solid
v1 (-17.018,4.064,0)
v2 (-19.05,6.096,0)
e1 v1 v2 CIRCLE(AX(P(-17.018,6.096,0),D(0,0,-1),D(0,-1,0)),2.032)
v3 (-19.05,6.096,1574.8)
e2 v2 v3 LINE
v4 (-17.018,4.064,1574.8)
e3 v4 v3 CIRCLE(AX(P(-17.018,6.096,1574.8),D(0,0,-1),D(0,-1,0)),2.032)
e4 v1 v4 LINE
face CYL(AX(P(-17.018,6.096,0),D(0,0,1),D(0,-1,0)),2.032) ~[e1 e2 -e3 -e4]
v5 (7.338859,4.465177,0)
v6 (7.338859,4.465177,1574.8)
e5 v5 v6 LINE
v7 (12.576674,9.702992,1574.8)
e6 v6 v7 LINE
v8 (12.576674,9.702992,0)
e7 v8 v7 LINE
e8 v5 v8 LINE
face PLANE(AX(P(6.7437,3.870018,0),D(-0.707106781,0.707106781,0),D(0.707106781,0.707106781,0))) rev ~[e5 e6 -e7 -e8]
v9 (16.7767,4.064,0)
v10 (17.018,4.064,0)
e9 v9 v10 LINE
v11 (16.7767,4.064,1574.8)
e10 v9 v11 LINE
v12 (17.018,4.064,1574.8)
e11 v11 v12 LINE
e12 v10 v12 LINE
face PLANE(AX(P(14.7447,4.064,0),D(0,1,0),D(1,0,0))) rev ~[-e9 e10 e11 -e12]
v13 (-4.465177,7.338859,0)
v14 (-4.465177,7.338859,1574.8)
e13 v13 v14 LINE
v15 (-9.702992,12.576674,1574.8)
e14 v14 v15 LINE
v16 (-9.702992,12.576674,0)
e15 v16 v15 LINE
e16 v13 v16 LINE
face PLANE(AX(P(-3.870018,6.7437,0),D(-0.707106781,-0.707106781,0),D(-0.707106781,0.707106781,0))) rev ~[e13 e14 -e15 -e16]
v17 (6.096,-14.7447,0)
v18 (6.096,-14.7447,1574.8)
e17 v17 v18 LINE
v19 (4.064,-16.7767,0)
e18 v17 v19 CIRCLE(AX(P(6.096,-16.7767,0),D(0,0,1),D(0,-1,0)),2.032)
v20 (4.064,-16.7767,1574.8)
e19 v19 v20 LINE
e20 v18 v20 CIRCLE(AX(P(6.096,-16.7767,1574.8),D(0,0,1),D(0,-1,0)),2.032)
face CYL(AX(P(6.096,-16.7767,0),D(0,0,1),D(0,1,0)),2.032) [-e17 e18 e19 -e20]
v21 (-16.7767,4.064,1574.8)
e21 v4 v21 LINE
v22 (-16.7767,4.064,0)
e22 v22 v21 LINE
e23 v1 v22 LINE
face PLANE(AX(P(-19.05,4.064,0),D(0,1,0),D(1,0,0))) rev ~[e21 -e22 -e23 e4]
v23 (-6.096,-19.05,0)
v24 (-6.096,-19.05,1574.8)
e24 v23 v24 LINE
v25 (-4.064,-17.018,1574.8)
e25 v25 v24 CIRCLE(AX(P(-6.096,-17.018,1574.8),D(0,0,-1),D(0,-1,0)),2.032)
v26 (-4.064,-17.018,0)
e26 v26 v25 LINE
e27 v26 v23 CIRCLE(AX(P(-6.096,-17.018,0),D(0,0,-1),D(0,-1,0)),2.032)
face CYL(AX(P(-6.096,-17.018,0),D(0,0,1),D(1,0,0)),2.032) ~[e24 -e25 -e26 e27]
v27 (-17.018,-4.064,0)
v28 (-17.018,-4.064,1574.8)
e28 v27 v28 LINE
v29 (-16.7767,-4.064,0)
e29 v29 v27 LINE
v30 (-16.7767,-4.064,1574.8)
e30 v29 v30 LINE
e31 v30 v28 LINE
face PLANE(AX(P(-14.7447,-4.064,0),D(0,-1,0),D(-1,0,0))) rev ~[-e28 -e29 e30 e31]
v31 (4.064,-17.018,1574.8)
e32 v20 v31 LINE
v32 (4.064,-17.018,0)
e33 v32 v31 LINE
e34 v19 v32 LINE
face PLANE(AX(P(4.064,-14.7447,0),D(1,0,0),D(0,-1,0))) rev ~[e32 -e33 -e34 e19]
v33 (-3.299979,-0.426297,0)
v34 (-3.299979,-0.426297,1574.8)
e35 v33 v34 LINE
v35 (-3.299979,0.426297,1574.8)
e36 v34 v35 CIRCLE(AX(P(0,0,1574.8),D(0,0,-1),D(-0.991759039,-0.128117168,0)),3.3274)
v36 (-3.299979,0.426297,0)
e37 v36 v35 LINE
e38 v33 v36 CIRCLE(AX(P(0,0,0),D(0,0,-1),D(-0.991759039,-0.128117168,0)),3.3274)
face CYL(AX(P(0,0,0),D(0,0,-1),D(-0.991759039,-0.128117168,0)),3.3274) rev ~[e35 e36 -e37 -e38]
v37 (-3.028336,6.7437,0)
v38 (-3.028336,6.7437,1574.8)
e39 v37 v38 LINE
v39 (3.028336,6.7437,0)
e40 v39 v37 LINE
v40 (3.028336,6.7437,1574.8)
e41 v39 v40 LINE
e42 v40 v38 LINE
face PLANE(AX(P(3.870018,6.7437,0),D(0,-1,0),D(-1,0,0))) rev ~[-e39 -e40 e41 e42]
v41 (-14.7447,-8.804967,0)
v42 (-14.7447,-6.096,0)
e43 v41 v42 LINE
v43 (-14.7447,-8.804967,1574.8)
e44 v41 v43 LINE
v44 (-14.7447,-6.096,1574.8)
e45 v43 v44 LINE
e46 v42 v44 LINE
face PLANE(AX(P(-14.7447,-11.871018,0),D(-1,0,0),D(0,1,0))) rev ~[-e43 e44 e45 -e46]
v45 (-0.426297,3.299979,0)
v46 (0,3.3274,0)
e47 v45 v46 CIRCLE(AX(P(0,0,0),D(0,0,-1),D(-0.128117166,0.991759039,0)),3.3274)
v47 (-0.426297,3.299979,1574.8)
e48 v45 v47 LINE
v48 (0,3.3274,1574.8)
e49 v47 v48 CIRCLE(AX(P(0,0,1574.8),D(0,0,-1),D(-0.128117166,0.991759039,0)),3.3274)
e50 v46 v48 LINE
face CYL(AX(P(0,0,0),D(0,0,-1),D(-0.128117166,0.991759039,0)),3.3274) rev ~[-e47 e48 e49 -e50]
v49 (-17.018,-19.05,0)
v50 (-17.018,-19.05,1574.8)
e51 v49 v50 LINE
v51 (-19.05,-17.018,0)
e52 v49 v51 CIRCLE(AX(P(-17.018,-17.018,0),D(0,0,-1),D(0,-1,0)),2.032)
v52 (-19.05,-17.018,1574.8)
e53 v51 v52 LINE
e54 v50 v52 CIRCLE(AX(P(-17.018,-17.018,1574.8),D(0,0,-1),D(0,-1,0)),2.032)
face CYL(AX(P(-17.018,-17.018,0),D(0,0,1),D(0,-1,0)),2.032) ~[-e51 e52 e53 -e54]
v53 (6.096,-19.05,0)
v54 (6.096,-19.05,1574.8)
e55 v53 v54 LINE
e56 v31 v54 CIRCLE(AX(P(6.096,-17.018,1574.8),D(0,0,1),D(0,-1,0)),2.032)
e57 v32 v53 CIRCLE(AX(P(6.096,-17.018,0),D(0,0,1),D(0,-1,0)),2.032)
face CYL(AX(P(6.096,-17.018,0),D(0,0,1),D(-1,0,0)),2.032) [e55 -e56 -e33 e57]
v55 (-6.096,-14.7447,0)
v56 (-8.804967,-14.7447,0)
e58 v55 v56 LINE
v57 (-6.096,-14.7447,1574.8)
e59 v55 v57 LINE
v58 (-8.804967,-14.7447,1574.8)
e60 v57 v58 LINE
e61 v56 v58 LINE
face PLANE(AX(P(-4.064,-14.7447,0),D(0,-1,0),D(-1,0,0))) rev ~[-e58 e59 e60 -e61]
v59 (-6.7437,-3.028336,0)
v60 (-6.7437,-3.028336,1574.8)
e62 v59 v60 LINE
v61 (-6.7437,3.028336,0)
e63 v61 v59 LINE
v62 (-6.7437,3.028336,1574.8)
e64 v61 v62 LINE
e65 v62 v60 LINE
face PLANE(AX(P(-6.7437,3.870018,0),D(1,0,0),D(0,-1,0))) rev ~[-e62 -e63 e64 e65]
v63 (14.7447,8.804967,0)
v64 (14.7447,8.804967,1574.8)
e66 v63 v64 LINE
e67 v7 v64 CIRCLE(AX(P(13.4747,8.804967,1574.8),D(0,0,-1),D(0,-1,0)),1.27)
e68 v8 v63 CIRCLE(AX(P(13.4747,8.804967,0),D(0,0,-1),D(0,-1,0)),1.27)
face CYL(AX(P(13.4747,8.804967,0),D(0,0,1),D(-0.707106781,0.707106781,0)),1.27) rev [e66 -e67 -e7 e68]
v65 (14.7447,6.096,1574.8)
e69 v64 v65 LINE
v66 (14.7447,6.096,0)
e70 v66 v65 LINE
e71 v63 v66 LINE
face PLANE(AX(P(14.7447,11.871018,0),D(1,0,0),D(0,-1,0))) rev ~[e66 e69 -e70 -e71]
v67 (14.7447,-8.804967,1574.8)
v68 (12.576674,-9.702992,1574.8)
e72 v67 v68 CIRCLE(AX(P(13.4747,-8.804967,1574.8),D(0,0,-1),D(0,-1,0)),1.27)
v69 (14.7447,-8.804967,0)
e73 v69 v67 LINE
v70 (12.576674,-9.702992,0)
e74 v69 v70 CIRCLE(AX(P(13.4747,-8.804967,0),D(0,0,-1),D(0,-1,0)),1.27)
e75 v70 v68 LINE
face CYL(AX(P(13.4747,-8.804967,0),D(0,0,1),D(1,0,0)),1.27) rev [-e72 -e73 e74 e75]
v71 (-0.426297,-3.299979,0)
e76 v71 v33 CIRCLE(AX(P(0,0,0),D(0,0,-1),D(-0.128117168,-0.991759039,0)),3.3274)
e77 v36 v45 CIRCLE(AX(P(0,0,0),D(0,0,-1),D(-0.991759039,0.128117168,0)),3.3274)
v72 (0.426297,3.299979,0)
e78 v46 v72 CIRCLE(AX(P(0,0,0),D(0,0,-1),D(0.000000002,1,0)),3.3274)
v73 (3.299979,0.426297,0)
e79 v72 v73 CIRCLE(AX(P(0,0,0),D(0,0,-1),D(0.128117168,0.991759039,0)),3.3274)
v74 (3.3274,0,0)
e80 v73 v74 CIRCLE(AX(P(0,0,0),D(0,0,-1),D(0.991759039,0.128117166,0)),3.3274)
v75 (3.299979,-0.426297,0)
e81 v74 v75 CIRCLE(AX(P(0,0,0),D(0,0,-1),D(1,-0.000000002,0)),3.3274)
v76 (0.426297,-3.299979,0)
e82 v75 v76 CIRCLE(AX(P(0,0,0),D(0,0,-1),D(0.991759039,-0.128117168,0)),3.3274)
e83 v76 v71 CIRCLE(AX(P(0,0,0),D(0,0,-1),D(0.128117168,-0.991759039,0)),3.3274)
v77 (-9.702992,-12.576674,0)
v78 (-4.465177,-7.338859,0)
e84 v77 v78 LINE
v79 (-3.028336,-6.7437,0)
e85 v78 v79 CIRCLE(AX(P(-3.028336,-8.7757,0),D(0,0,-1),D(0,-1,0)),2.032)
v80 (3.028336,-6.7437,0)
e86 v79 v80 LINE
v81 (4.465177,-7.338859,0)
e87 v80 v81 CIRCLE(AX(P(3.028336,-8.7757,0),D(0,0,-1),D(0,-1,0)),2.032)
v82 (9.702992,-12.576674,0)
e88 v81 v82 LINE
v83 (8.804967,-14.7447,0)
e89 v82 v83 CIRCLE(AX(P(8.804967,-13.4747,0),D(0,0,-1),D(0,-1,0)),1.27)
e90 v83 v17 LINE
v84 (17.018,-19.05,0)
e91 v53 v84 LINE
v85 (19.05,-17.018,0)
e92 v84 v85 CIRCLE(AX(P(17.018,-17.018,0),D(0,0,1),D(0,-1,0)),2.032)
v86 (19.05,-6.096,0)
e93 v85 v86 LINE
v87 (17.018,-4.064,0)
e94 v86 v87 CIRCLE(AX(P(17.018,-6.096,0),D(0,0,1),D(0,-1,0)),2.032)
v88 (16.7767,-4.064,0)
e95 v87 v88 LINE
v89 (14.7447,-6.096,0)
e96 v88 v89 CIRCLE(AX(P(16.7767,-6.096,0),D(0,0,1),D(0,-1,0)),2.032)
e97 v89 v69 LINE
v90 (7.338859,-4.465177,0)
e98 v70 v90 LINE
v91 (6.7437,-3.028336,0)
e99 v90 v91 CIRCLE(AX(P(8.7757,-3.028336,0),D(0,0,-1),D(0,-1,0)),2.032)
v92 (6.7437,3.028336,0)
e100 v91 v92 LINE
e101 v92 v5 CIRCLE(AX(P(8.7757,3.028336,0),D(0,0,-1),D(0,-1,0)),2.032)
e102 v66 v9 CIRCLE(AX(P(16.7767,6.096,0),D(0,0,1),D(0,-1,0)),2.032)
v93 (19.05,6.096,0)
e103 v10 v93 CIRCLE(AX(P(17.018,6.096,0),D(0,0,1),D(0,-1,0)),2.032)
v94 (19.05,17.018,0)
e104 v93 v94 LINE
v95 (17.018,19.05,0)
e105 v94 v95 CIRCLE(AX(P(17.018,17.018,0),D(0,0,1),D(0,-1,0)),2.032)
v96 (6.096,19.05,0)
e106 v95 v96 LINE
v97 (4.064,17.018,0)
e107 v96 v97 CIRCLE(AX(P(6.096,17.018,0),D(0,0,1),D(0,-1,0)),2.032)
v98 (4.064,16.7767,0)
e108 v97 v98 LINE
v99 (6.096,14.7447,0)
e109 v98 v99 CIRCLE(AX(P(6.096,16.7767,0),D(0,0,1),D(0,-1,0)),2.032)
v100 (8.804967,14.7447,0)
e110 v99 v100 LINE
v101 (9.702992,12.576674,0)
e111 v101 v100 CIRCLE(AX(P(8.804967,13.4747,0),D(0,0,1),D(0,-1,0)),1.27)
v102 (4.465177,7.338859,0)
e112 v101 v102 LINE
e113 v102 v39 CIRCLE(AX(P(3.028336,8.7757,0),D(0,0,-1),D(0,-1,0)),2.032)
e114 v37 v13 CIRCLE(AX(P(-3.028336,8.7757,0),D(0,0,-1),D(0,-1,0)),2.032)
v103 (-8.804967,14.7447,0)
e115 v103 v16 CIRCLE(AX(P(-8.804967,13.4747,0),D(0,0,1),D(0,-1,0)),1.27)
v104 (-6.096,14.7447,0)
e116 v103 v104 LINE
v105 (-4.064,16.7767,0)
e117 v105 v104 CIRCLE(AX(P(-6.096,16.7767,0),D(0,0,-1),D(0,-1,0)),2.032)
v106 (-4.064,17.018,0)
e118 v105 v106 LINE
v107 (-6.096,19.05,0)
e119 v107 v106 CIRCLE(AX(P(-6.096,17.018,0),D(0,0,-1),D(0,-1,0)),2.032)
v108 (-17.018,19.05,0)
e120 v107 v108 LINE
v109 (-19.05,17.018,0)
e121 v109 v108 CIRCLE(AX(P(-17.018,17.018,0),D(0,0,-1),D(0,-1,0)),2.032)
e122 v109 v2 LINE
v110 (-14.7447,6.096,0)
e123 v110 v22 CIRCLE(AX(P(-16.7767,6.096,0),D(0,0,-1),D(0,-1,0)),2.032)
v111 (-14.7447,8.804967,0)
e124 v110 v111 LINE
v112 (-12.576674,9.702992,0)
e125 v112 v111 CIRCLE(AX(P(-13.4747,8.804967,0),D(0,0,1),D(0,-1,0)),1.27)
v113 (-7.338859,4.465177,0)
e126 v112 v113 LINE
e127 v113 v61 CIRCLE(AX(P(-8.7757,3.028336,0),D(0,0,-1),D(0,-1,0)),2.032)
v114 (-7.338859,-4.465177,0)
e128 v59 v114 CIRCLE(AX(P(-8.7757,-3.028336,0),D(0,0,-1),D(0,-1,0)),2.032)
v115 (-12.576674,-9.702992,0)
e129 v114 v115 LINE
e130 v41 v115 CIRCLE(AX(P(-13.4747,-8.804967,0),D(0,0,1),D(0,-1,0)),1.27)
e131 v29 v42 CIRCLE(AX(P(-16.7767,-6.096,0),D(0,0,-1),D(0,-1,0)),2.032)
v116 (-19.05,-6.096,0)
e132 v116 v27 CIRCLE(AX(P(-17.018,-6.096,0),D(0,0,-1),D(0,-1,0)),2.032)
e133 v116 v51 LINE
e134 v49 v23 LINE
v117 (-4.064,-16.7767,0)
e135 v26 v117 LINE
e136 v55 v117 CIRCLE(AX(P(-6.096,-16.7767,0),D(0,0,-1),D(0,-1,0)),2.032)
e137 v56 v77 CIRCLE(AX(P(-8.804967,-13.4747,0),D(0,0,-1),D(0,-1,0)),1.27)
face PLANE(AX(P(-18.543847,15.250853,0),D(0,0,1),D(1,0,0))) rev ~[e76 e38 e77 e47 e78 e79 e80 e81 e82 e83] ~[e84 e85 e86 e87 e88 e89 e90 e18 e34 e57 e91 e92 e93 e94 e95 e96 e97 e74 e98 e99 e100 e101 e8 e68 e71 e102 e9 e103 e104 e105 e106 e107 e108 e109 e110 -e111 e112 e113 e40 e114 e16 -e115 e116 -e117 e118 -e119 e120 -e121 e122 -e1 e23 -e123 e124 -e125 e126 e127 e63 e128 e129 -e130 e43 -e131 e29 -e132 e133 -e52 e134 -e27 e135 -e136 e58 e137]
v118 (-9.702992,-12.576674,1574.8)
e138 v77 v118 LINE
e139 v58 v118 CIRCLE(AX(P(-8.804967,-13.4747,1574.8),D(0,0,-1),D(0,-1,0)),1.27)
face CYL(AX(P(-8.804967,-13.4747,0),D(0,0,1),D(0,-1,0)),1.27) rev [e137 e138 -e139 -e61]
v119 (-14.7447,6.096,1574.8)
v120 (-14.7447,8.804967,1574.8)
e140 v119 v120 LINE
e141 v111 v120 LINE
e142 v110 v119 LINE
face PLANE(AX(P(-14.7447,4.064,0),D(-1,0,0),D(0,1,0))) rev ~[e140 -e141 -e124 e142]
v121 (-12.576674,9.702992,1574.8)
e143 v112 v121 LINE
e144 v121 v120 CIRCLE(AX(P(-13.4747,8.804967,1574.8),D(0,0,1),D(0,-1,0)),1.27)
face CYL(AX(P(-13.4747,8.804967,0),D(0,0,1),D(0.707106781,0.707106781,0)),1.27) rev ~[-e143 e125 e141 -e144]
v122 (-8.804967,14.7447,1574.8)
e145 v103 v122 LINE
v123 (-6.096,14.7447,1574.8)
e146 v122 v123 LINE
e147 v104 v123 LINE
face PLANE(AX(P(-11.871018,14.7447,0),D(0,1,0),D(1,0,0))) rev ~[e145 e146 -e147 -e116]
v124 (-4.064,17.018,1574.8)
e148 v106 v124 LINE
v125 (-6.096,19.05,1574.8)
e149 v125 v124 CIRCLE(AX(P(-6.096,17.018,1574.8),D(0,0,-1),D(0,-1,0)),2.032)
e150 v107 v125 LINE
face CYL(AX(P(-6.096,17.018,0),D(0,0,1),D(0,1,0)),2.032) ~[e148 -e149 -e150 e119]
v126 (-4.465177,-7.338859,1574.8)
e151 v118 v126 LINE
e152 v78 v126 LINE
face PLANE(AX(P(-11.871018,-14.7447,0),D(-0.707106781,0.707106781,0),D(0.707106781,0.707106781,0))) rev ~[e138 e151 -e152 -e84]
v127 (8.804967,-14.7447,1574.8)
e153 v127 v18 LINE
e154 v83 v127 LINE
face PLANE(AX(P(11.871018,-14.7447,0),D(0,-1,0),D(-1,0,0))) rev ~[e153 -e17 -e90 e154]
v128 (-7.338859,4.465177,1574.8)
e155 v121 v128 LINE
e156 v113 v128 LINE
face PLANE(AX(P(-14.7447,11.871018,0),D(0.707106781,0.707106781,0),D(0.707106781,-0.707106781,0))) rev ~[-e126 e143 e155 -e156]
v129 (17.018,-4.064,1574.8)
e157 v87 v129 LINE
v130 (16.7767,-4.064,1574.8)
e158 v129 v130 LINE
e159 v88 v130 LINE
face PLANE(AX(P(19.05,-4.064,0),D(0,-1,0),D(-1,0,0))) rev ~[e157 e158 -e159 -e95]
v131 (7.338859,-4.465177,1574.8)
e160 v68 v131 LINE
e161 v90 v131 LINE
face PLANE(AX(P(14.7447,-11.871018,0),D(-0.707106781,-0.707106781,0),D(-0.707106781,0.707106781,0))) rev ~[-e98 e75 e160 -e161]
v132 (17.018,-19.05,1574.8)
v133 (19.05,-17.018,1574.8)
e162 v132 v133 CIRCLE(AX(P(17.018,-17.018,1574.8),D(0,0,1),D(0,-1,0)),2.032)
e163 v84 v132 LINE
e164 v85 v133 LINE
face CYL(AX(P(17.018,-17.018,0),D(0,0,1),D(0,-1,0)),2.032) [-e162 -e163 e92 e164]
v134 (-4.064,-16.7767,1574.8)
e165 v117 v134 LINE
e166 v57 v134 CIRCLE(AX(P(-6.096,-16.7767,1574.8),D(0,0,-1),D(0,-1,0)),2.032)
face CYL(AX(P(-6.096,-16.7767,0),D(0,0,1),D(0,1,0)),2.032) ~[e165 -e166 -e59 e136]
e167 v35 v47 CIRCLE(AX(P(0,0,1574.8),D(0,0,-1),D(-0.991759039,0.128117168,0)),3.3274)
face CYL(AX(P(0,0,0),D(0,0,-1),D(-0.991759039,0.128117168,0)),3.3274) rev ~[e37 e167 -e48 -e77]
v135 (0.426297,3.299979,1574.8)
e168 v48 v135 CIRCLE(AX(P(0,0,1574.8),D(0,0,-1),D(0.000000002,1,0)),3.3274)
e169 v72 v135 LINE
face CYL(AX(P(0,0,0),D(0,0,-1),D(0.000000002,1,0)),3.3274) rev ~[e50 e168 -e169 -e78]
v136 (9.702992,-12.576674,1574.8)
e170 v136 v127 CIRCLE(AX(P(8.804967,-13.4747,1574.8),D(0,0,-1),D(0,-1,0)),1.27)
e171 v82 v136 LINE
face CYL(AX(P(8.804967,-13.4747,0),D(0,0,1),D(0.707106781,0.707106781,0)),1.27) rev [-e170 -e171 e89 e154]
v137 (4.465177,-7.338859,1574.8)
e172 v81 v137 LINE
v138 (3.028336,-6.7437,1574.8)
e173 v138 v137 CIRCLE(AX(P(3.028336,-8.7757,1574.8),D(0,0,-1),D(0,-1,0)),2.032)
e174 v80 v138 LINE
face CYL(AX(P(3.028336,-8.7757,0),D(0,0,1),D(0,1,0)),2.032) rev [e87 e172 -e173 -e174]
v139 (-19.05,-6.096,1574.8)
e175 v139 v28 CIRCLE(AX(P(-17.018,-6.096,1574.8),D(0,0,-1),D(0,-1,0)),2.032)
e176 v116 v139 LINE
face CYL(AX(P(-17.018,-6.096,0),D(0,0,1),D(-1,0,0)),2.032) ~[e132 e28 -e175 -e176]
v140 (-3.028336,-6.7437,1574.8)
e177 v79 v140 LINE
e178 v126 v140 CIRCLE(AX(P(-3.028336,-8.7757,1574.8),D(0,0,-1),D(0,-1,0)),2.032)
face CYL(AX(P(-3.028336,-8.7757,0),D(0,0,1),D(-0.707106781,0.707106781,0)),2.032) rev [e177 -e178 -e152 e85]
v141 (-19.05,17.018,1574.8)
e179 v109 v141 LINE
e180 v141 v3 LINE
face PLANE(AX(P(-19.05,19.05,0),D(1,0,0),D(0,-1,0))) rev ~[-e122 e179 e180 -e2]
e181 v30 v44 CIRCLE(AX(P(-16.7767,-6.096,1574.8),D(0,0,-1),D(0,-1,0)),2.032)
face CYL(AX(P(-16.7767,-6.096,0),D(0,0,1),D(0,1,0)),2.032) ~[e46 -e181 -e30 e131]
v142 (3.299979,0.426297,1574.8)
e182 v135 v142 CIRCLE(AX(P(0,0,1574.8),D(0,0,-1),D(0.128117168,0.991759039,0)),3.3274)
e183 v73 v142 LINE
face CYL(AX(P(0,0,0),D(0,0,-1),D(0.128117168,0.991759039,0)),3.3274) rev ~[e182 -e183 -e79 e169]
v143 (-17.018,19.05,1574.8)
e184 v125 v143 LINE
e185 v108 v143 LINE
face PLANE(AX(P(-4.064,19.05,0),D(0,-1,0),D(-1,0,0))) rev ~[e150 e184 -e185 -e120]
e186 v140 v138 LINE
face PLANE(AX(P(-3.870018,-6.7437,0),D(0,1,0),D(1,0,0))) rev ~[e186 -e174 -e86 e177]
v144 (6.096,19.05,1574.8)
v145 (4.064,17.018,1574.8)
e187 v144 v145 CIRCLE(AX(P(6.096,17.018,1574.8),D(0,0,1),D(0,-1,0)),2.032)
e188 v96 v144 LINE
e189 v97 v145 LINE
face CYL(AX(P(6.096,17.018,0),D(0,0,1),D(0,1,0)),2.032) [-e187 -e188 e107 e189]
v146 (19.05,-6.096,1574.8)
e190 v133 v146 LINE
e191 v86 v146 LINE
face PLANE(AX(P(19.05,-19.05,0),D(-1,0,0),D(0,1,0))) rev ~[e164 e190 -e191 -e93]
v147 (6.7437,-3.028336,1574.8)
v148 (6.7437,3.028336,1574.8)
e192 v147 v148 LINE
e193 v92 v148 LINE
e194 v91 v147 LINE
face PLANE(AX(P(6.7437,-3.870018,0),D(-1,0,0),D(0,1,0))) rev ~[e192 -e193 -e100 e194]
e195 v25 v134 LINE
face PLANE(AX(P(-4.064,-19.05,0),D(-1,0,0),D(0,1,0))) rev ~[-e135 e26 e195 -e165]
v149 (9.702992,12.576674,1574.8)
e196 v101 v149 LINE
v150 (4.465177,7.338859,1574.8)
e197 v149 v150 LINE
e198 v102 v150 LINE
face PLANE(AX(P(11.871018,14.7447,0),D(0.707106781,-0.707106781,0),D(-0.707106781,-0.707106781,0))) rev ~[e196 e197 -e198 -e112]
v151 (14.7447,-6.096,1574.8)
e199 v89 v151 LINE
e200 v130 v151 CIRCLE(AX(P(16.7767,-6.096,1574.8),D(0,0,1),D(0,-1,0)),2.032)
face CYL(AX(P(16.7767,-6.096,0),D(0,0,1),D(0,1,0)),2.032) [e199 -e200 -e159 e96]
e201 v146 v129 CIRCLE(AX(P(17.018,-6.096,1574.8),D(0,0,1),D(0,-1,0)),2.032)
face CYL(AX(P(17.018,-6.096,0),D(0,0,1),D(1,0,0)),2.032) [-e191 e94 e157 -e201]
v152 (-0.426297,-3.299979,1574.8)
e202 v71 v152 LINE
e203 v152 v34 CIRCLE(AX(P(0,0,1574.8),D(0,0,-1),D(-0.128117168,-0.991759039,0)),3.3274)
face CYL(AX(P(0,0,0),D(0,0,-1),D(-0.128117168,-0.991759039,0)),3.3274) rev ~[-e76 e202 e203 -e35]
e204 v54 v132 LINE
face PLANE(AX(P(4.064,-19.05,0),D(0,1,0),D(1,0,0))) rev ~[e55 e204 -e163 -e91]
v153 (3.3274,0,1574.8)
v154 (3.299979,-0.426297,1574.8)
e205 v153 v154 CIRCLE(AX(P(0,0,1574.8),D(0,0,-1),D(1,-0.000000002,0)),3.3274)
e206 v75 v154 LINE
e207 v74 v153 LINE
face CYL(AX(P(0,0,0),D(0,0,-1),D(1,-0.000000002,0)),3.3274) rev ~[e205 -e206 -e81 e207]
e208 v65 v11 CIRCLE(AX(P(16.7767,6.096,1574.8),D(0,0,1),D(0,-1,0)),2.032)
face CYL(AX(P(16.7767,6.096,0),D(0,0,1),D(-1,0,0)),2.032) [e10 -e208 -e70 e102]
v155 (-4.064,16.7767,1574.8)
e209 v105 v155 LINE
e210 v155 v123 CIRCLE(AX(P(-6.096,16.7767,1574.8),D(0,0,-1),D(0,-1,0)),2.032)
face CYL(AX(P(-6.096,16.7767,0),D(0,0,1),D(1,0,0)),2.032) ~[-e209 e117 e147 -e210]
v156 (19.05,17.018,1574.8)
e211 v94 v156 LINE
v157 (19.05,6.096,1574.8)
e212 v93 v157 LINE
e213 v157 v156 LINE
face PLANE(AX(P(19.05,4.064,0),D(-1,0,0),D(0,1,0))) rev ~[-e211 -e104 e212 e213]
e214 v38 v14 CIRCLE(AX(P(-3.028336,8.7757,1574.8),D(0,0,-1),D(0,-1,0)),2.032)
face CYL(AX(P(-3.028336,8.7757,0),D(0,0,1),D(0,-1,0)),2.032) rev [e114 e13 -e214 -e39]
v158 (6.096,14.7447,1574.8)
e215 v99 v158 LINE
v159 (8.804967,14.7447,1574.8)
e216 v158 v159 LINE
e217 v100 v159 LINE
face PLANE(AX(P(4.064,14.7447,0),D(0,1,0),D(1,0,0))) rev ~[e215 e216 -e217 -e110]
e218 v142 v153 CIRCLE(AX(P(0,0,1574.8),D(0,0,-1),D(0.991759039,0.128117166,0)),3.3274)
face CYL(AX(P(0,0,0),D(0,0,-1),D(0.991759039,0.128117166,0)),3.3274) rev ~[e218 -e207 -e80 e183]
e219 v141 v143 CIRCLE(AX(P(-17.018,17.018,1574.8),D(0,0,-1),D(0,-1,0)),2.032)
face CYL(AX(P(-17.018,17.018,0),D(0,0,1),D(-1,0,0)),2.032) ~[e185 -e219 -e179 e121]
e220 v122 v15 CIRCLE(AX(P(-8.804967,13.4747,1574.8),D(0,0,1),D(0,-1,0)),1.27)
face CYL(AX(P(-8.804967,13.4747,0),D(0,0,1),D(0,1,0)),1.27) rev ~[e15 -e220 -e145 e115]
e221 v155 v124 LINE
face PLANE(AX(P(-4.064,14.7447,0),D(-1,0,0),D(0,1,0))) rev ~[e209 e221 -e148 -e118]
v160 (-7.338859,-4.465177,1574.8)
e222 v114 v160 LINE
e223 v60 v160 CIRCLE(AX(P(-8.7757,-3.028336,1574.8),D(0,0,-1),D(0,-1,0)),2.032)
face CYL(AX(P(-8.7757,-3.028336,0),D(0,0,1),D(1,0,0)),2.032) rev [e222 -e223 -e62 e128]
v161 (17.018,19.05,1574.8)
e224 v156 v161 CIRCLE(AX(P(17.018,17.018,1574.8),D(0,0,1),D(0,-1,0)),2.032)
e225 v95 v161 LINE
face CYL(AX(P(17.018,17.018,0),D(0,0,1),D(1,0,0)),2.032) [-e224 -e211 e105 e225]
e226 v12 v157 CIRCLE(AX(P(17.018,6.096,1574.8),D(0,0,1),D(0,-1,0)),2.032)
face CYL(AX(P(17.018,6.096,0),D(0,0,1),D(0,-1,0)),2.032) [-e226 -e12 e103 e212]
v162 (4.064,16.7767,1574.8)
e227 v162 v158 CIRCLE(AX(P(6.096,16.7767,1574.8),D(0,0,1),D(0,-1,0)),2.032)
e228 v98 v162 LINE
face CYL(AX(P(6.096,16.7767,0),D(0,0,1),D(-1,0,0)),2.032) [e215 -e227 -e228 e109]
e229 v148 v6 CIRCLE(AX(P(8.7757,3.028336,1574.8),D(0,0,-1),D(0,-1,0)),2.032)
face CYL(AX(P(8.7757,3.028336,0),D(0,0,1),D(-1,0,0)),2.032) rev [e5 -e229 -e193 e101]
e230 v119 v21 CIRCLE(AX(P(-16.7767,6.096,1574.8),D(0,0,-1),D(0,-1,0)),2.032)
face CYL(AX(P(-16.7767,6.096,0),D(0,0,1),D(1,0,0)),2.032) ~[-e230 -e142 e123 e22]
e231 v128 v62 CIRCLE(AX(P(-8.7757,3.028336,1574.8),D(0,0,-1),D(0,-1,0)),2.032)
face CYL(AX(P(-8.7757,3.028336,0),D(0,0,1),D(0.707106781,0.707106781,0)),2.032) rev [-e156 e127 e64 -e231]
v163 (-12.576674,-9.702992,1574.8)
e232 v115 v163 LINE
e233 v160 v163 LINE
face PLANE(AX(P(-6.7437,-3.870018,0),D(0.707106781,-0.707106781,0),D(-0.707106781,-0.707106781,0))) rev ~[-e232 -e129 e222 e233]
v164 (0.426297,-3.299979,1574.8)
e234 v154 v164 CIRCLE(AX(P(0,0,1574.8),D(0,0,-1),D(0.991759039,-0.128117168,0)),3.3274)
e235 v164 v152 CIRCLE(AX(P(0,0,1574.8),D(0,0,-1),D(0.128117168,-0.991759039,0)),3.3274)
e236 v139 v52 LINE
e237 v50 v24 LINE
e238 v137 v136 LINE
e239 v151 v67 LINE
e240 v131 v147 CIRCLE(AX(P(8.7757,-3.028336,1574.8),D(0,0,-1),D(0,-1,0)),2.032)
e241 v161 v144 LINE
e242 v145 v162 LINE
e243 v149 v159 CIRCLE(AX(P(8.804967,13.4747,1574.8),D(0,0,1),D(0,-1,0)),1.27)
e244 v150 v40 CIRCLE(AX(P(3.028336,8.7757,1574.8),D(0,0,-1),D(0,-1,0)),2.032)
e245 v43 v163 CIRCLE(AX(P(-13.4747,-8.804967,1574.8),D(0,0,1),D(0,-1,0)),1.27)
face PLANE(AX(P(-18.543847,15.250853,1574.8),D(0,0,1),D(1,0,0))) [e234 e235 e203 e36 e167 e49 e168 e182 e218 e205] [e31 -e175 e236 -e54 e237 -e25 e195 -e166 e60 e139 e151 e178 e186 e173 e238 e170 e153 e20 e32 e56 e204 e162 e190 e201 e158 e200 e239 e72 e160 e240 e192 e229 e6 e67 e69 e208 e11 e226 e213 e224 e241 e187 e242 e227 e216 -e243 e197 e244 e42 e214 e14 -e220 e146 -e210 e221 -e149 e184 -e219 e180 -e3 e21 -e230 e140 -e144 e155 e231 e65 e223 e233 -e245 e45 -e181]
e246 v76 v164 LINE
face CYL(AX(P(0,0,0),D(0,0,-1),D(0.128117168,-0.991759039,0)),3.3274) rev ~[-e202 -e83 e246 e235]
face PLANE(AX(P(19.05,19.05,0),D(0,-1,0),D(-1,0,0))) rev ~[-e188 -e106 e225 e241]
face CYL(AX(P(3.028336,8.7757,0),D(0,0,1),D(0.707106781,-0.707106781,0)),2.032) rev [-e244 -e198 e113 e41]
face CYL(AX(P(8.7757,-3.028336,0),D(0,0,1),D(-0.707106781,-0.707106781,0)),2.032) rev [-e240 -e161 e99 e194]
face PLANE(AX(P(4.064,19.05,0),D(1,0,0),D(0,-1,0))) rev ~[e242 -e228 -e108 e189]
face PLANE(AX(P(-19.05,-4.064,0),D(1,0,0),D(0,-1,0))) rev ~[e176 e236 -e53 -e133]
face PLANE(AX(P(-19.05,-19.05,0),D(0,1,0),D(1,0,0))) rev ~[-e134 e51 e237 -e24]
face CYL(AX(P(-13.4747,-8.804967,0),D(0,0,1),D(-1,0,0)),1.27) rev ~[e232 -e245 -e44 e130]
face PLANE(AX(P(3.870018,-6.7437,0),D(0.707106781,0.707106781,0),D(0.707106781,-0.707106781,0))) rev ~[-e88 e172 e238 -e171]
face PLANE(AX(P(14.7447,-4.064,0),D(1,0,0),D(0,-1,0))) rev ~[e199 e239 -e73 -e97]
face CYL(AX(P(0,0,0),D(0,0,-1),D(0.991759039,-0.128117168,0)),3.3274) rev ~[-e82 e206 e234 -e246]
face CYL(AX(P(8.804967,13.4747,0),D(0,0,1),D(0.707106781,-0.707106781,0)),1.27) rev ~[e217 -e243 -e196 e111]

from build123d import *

# Parameters (mm, degrees)
SKETCH1_W           = 2.6797
SKETCH1_H           = 2.6797
BOSS_EXTRUDE1_DEPTH = 1574.8
FILLET2_R           = 2.032
FILLET3_R           = 2.032
FILLET4_R           = 1.27


with BuildPart() as part:
    # Sketch1 → Boss-Extrude1 (new body)
    with BuildSketch(Plane.XY):
        Polygon((-19.05, 16.176318041), (-19.05, 14.7447), (-17.618381959, 14.7447), align=None)
        Polygon((-14.7447, 17.618381959), (-14.7447, 19.05), (-16.176318041, 19.05), align=None)
        Polygon((14.7447, 19.05), (14.7447, 17.618381959), (16.176318041, 19.05), align=None)
        Polygon((17.618381959, 14.7447), (19.05, 14.7447), (19.05, 16.176318041), align=None)
        Polygon((19.05, -14.7447), (17.618381959, -14.7447), (19.05, -16.176318041), align=None)
        Polygon((16.176318041, -19.05), (14.7447, -17.618381959), (14.7447, -19.05), align=None)
        Polygon((19.05, -16.176318041), (17.618381959, -14.7447), (14.7447, -14.7447), (14.7447, -17.618381959), (16.176318041, -19.05), (19.05, -19.05), align=None)
        Polygon((19.05, -4.064), (14.7447, -4.064), (14.7447, -11.871018041), (17.618381959, -14.7447), (19.05, -14.7447), align=None)
        Polygon((17.618381959, -14.7447), (14.7447, -11.871018041), (14.7447, -14.7447), align=None)
        Polygon((14.7447, -14.7447), (11.871018041, -14.7447), (14.7447, -17.618381959), align=None)
        Polygon((11.871018041, -14.7447), (4.064, -14.7447), (4.064, -19.05), (14.7447, -19.05), (14.7447, -17.618381959), align=None)
        Polygon((14.7447, 6.7437), (14.7447, 4.064), (19.05, 4.064), (19.05, 14.7447), (17.618381959, 14.7447), (14.7447, 11.871018041), align=None)
        Polygon((14.7447, 14.7447), (14.7447, 11.871018041), (17.618381959, 14.7447), align=None)
        Polygon((16.176318041, 19.05), (14.7447, 17.618381959), (14.7447, 14.7447), (17.618381959, 14.7447), (19.05, 16.176318041), (19.05, 19.05), align=None)
        Polygon((4.064, 19.05), (4.064, 14.7447), (11.871018041, 14.7447), (14.7447, 17.618381959), (14.7447, 19.05), align=None)
        Polygon((14.7447, 17.618381959), (11.871018041, 14.7447), (14.7447, 14.7447), align=None)
        Polygon((-6.7437, 14.7447), (-4.064, 14.7447), (-4.064, 19.05), (-14.7447, 19.05), (-14.7447, 17.618381959), (-11.871018041, 14.7447), align=None)
        Polygon((-14.7447, 14.7447), (-11.871018041, 14.7447), (-14.7447, 17.618381959), align=None)
        Polygon((-14.7447, 14.7447), (-14.7447, 17.618381959), (-16.176318041, 19.05), (-19.05, 19.05), (-19.05, 16.176318041), (-17.618381959, 14.7447), align=None)
        Polygon((-17.618381959, 14.7447), (-14.7447, 11.871018041), (-14.7447, 14.7447), align=None)
        Polygon((-19.05, 4.064), (-14.7447, 4.064), (-14.7447, 6.7437), (-14.7447, 11.871018041), (-17.618381959, 14.7447), (-19.05, 14.7447), align=None)
        Polygon((-14.7447, -11.871018041), (-14.7447, -4.064), (-19.05, -4.064), (-19.05, -14.7447), (-17.618381959, -14.7447), align=None)
        Polygon((-14.7447, -14.7447), (-14.7447, -11.871018041), (-17.618381959, -14.7447), align=None)
        Polygon((-19.05, -16.176318041), (-17.618381959, -14.7447), (-19.05, -14.7447), align=None)
        Polygon((-14.7447, -14.7447), (-17.618381959, -14.7447), (-19.05, -16.176318041), (-19.05, -19.05), (-16.176318041, -19.05), (-14.7447, -17.618381959), align=None)
        Polygon((-16.176318041, -19.05), (-14.7447, -19.05), (-14.7447, -17.618381959), align=None)
        Polygon((-14.7447, -17.618381959), (-11.871018041, -14.7447), (-14.7447, -14.7447), align=None)
        Polygon((-4.064, -19.05), (-4.064, -14.7447), (-6.7437, -14.7447), (-11.871018041, -14.7447), (-14.7447, -17.618381959), (-14.7447, -19.05), align=None)
        Polygon((-6.7437, -6.7437), (-6.7437, -4.064), (-6.937681959, -4.064), (-14.7447, -11.871018041), (-14.7447, -14.7447), (-11.871018041, -14.7447), (-6.7437, -9.617381959), align=None)
        Polygon((-4.064, -6.937681959), (-4.064, -6.7437), (-6.7437, -6.7437), (-6.7437, -9.617381959), align=None)
        with Locations((-5.40385, -5.40385)):
            Rectangle(SKETCH1_W, SKETCH1_H)
        Polygon((6.7437, -6.7437), (4.064, -6.7437), (4.064, -6.937681959), (11.871018041, -14.7447), (14.7447, -14.7447), (14.7447, -11.871018041), (6.937681959, -4.064), (6.7437, -4.064), align=None)
        Polygon((4.064, 6.937681959), (4.064, 6.7437), (6.7437, 6.7437), (9.617381959, 6.7437), (14.7447, 11.871018041), (14.7447, 14.7447), (11.871018041, 14.7447), align=None)
        Polygon((6.7437, 6.7437), (6.7437, 4.064), (6.937681959, 4.064), (9.617381959, 6.7437), align=None)
        Polygon((-9.617381959, 6.7437), (-6.7437, 6.7437), (-6.7437, 9.617381959), (-11.871018041, 14.7447), (-14.7447, 14.7447), (-14.7447, 11.871018041), align=None)
        Polygon((-6.7437, 6.7437), (-4.064, 6.7437), (-4.064, 6.937681959), (-6.7437, 9.617381959), align=None)
        Polygon((-6.937681959, 4.064), (-6.7437, 4.064), (-6.7437, 6.7437), (-9.617381959, 6.7437), align=None)
        with Locations((-5.40385, 5.40385)):
            Rectangle(SKETCH1_W, SKETCH1_H)
        Polygon((-6.7437, 3.870018041), (-4.064, 1.190318041), (-4.064, 4.064), (-6.7437, 4.064), align=None)
        Polygon((-4.064, -1.190318041), (-4.064, 1.190318041), (-6.7437, 3.870018041), (-6.7437, -3.870018041), align=None)
        with BuildLine():
            ThreePointArc((-3.299979026, 0.426297067), (-2.352827104, 2.352827104), (-0.426297067, 3.299979026))
            Line((-0.426297067, 3.299979026), (-1.190318041, 4.064))
            Line((-1.190318041, 4.064), (-4.064, 4.064))
            Line((-4.064, 4.064), (-4.064, 1.190318041))
            Line((-4.064, 1.190318041), (-3.299979026, 0.426297067))
        make_face()
        Polygon((-4.064, 4.064), (-1.190318041, 4.064), (-3.870018041, 6.7437), (-4.064, 6.7437), align=None)
        Polygon((-1.190318041, 4.064), (0, 4.064), (0, 6.7437), (-3.870018041, 6.7437), align=None)
        with BuildLine():
            ThreePointArc((-0.426297067, 3.299979026), (-0.213589032, 3.32053768), (0, 3.3274))
            Line((0, 3.3274), (0, 4.064))
            Line((0, 4.064), (-1.190318041, 4.064))
            Line((-1.190318041, 4.064), (-0.426297067, 3.299979026))
        make_face()
        with BuildLine():
            Line((0, 4.064), (0, 3.3274))
            ThreePointArc((0, 3.3274), (0.213589032, 3.32053768), (0.426297067, 3.299979026))
            Line((0.426297067, 3.299979026), (1.190318041, 4.064))
            Line((1.190318041, 4.064), (0, 4.064))
        make_face()
        Polygon((0, 6.7437), (0, 4.064), (1.190318041, 4.064), (3.870018041, 6.7437), align=None)
        Polygon((3.870018041, 6.7437), (1.190318041, 4.064), (4.064, 4.064), (4.064, 6.7437), align=None)
        with Locations((5.40385, 5.40385)):
            Rectangle(SKETCH1_W, SKETCH1_H)
        Polygon((4.064, 4.064), (4.064, 1.190318041), (6.7437, 3.870018041), (6.7437, 4.064), align=None)
        Polygon((4.064, 1.190318041), (4.064, 0), (6.7437, 0), (6.7437, 3.870018041), align=None)
        with BuildLine():
            ThreePointArc((0.426297067, 3.299979026), (2.352827104, 2.352827104), (3.299979026, 0.426297067))
            Line((3.299979026, 0.426297067), (4.064, 1.190318041))
            Line((4.064, 1.190318041), (4.064, 4.064))
            Line((4.064, 4.064), (1.190318041, 4.064))
            Line((1.190318041, 4.064), (0.426297067, 3.299979026))
        make_face()
        with BuildLine():
            ThreePointArc((3.299979026, 0.426297067), (3.32053768, 0.213589032), (3.3274, 0))
            Line((3.3274, 0), (4.064, 0))
            Line((4.064, 0), (4.064, 1.190318041))
            Line((4.064, 1.190318041), (3.299979026, 0.426297067))
        make_face()
        with BuildLine():
            Line((4.064, 0), (3.3274, 0))
            ThreePointArc((3.3274, 0), (3.32053768, -0.213589032), (3.299979026, -0.426297067))
            Line((3.299979026, -0.426297067), (4.064, -1.190318041))
            Line((4.064, -1.190318041), (4.064, 0))
        make_face()
        Polygon((6.7437, 0), (4.064, 0), (4.064, -1.190318041), (6.7437, -3.870018041), align=None)
        Polygon((6.7437, -3.870018041), (4.064, -1.190318041), (4.064, -4.064), (6.7437, -4.064), align=None)
        with BuildLine():
            Line((4.064, -1.190318041), (3.299979026, -0.426297067))
            ThreePointArc((3.299979026, -0.426297067), (2.352827104, -2.352827104), (0.426297067, -3.299979026))
            Line((0.426297067, -3.299979026), (1.190318041, -4.064))
            Line((1.190318041, -4.064), (4.064, -4.064))
            Line((4.064, -4.064), (4.064, -1.190318041))
        make_face()
        with Locations((5.40385, -5.40385)):
            Rectangle(SKETCH1_W, SKETCH1_H)
        Polygon((4.064, -6.7437), (4.064, -4.064), (1.190318041, -4.064), (3.870018041, -6.7437), align=None)
        Polygon((3.870018041, -6.7437), (1.190318041, -4.064), (-1.190318041, -4.064), (-3.870018041, -6.7437), align=None)
        with BuildLine():
            Line((1.190318041, -4.064), (0.426297067, -3.299979026))
            ThreePointArc((0.426297067, -3.299979026), (0, -3.3274), (-0.426297067, -3.299979026))
            Line((-0.426297067, -3.299979026), (-1.190318041, -4.064))
            Line((-1.190318041, -4.064), (1.190318041, -4.064))
        make_face()
        with BuildLine():
            Line((-1.190318041, -4.064), (-0.426297067, -3.299979026))
            ThreePointArc((-0.426297067, -3.299979026), (-2.352827104, -2.352827104), (-3.299979026, -0.426297067))
            Line((-3.299979026, -0.426297067), (-4.064, -1.190318041))
            Line((-4.064, -1.190318041), (-4.064, -4.064))
            Line((-4.064, -4.064), (-1.190318041, -4.064))
        make_face()
        Polygon((-4.064, -4.064), (-4.064, -1.190318041), (-6.7437, -3.870018041), (-6.7437, -4.064), align=None)
        with BuildLine():
            ThreePointArc((-3.299979026, -0.426297067), (-3.3274, 0), (-3.299979026, 0.426297067))
            Line((-3.299979026, 0.426297067), (-4.064, 1.190318041))
            Line((-4.064, 1.190318041), (-4.064, -1.190318041))
            Line((-4.064, -1.190318041), (-3.299979026, -0.426297067))
        make_face()
        Polygon((4.064, -6.937681959), (4.064, -6.7437), (3.870018041, -6.7437), align=None)
        Polygon((6.937681959, -4.064), (6.7437, -3.870018041), (6.7437, -4.064), align=None)
        Polygon((6.7437, 4.064), (6.7437, 3.870018041), (6.937681959, 4.064), align=None)
        Polygon((4.064, 6.937681959), (3.870018041, 6.7437), (4.064, 6.7437), align=None)
        Polygon((-4.064, 6.7437), (-3.870018041, 6.7437), (-4.064, 6.937681959), align=None)
        Polygon((-6.937681959, 4.064), (-6.7437, 3.870018041), (-6.7437, 4.064), align=None)
        Polygon((-6.7437, -4.064), (-6.7437, -3.870018041), (-6.937681959, -4.064), align=None)
        Polygon((-4.064, -6.937681959), (-3.870018041, -6.7437), (-4.064, -6.7437), align=None)
        Polygon((-3.870018041, -6.7437), (-1.190318041, -4.064), (-4.064, -4.064), (-4.064, -6.7437), align=None)
    extrude(amount=BOSS_EXTRUDE1_DEPTH)

    # Fillet2
    fillet2_edges = [part.edges().sort_by_distance(p)[0] for p in [
        (6.7437, 3.870018041, 787.4),
        (6.7437, -3.870018041, 787.4),
        (3.870018041, -6.7437, 787.4),
        (-3.870018041, -6.7437, 787.4),
        (-6.7437, -3.870018041, 787.4),
        (-6.7437, 3.870018041, 787.4),
        (-3.870018041, 6.7437, 787.4),
        (3.870018041, 6.7437, 787.4),
    ]]
    fillet(fillet2_edges, radius=FILLET2_R)

    # Fillet3
    fillet3_edges = [part.edges().sort_by_distance(p)[0] for p in [
        (14.7447, 4.064, 787.4),
        (14.7447, -4.064, 787.4),
        (19.05, -4.064, 787.4),
        (19.05, -19.05, 787.4),
        (4.064, -19.05, 787.4),
        (4.064, -14.7447, 787.4),
        (-4.064, -14.7447, 787.4),
        (-4.064, -19.05, 787.4),
        (-19.05, -19.05, 787.4),
        (-19.05, -4.064, 787.4),
        (-14.7447, -4.064, 787.4),
        (-14.7447, 4.064, 787.4),
        (-19.05, 4.064, 787.4),
        (-19.05, 19.05, 787.4),
        (-4.064, 19.05, 787.4),
        (-4.064, 14.7447, 787.4),
        (4.064, 14.7447, 787.4),
        (4.064, 19.05, 787.4),
        (19.05, 19.05, 787.4),
        (19.05, 4.064, 787.4),
    ]]
    fillet(fillet3_edges, radius=FILLET3_R)

    # Fillet4
    fillet4_edges = [part.edges().sort_by_distance(p)[0] for p in [
        (14.7447, 11.871018041, 787.4),
        (14.7447, -11.871018041, 787.4),
        (11.871018041, -14.7447, 787.4),
        (-11.871018041, -14.7447, 787.4),
        (-14.7447, -11.871018041, 787.4),
        (-14.7447, 11.871018041, 787.4),
        (-11.871018041, 14.7447, 787.4),
        (11.871018041, 14.7447, 787.4),
    ]]
    fillet(fillet4_edges, radius=FILLET4_R)


solid = part.part
